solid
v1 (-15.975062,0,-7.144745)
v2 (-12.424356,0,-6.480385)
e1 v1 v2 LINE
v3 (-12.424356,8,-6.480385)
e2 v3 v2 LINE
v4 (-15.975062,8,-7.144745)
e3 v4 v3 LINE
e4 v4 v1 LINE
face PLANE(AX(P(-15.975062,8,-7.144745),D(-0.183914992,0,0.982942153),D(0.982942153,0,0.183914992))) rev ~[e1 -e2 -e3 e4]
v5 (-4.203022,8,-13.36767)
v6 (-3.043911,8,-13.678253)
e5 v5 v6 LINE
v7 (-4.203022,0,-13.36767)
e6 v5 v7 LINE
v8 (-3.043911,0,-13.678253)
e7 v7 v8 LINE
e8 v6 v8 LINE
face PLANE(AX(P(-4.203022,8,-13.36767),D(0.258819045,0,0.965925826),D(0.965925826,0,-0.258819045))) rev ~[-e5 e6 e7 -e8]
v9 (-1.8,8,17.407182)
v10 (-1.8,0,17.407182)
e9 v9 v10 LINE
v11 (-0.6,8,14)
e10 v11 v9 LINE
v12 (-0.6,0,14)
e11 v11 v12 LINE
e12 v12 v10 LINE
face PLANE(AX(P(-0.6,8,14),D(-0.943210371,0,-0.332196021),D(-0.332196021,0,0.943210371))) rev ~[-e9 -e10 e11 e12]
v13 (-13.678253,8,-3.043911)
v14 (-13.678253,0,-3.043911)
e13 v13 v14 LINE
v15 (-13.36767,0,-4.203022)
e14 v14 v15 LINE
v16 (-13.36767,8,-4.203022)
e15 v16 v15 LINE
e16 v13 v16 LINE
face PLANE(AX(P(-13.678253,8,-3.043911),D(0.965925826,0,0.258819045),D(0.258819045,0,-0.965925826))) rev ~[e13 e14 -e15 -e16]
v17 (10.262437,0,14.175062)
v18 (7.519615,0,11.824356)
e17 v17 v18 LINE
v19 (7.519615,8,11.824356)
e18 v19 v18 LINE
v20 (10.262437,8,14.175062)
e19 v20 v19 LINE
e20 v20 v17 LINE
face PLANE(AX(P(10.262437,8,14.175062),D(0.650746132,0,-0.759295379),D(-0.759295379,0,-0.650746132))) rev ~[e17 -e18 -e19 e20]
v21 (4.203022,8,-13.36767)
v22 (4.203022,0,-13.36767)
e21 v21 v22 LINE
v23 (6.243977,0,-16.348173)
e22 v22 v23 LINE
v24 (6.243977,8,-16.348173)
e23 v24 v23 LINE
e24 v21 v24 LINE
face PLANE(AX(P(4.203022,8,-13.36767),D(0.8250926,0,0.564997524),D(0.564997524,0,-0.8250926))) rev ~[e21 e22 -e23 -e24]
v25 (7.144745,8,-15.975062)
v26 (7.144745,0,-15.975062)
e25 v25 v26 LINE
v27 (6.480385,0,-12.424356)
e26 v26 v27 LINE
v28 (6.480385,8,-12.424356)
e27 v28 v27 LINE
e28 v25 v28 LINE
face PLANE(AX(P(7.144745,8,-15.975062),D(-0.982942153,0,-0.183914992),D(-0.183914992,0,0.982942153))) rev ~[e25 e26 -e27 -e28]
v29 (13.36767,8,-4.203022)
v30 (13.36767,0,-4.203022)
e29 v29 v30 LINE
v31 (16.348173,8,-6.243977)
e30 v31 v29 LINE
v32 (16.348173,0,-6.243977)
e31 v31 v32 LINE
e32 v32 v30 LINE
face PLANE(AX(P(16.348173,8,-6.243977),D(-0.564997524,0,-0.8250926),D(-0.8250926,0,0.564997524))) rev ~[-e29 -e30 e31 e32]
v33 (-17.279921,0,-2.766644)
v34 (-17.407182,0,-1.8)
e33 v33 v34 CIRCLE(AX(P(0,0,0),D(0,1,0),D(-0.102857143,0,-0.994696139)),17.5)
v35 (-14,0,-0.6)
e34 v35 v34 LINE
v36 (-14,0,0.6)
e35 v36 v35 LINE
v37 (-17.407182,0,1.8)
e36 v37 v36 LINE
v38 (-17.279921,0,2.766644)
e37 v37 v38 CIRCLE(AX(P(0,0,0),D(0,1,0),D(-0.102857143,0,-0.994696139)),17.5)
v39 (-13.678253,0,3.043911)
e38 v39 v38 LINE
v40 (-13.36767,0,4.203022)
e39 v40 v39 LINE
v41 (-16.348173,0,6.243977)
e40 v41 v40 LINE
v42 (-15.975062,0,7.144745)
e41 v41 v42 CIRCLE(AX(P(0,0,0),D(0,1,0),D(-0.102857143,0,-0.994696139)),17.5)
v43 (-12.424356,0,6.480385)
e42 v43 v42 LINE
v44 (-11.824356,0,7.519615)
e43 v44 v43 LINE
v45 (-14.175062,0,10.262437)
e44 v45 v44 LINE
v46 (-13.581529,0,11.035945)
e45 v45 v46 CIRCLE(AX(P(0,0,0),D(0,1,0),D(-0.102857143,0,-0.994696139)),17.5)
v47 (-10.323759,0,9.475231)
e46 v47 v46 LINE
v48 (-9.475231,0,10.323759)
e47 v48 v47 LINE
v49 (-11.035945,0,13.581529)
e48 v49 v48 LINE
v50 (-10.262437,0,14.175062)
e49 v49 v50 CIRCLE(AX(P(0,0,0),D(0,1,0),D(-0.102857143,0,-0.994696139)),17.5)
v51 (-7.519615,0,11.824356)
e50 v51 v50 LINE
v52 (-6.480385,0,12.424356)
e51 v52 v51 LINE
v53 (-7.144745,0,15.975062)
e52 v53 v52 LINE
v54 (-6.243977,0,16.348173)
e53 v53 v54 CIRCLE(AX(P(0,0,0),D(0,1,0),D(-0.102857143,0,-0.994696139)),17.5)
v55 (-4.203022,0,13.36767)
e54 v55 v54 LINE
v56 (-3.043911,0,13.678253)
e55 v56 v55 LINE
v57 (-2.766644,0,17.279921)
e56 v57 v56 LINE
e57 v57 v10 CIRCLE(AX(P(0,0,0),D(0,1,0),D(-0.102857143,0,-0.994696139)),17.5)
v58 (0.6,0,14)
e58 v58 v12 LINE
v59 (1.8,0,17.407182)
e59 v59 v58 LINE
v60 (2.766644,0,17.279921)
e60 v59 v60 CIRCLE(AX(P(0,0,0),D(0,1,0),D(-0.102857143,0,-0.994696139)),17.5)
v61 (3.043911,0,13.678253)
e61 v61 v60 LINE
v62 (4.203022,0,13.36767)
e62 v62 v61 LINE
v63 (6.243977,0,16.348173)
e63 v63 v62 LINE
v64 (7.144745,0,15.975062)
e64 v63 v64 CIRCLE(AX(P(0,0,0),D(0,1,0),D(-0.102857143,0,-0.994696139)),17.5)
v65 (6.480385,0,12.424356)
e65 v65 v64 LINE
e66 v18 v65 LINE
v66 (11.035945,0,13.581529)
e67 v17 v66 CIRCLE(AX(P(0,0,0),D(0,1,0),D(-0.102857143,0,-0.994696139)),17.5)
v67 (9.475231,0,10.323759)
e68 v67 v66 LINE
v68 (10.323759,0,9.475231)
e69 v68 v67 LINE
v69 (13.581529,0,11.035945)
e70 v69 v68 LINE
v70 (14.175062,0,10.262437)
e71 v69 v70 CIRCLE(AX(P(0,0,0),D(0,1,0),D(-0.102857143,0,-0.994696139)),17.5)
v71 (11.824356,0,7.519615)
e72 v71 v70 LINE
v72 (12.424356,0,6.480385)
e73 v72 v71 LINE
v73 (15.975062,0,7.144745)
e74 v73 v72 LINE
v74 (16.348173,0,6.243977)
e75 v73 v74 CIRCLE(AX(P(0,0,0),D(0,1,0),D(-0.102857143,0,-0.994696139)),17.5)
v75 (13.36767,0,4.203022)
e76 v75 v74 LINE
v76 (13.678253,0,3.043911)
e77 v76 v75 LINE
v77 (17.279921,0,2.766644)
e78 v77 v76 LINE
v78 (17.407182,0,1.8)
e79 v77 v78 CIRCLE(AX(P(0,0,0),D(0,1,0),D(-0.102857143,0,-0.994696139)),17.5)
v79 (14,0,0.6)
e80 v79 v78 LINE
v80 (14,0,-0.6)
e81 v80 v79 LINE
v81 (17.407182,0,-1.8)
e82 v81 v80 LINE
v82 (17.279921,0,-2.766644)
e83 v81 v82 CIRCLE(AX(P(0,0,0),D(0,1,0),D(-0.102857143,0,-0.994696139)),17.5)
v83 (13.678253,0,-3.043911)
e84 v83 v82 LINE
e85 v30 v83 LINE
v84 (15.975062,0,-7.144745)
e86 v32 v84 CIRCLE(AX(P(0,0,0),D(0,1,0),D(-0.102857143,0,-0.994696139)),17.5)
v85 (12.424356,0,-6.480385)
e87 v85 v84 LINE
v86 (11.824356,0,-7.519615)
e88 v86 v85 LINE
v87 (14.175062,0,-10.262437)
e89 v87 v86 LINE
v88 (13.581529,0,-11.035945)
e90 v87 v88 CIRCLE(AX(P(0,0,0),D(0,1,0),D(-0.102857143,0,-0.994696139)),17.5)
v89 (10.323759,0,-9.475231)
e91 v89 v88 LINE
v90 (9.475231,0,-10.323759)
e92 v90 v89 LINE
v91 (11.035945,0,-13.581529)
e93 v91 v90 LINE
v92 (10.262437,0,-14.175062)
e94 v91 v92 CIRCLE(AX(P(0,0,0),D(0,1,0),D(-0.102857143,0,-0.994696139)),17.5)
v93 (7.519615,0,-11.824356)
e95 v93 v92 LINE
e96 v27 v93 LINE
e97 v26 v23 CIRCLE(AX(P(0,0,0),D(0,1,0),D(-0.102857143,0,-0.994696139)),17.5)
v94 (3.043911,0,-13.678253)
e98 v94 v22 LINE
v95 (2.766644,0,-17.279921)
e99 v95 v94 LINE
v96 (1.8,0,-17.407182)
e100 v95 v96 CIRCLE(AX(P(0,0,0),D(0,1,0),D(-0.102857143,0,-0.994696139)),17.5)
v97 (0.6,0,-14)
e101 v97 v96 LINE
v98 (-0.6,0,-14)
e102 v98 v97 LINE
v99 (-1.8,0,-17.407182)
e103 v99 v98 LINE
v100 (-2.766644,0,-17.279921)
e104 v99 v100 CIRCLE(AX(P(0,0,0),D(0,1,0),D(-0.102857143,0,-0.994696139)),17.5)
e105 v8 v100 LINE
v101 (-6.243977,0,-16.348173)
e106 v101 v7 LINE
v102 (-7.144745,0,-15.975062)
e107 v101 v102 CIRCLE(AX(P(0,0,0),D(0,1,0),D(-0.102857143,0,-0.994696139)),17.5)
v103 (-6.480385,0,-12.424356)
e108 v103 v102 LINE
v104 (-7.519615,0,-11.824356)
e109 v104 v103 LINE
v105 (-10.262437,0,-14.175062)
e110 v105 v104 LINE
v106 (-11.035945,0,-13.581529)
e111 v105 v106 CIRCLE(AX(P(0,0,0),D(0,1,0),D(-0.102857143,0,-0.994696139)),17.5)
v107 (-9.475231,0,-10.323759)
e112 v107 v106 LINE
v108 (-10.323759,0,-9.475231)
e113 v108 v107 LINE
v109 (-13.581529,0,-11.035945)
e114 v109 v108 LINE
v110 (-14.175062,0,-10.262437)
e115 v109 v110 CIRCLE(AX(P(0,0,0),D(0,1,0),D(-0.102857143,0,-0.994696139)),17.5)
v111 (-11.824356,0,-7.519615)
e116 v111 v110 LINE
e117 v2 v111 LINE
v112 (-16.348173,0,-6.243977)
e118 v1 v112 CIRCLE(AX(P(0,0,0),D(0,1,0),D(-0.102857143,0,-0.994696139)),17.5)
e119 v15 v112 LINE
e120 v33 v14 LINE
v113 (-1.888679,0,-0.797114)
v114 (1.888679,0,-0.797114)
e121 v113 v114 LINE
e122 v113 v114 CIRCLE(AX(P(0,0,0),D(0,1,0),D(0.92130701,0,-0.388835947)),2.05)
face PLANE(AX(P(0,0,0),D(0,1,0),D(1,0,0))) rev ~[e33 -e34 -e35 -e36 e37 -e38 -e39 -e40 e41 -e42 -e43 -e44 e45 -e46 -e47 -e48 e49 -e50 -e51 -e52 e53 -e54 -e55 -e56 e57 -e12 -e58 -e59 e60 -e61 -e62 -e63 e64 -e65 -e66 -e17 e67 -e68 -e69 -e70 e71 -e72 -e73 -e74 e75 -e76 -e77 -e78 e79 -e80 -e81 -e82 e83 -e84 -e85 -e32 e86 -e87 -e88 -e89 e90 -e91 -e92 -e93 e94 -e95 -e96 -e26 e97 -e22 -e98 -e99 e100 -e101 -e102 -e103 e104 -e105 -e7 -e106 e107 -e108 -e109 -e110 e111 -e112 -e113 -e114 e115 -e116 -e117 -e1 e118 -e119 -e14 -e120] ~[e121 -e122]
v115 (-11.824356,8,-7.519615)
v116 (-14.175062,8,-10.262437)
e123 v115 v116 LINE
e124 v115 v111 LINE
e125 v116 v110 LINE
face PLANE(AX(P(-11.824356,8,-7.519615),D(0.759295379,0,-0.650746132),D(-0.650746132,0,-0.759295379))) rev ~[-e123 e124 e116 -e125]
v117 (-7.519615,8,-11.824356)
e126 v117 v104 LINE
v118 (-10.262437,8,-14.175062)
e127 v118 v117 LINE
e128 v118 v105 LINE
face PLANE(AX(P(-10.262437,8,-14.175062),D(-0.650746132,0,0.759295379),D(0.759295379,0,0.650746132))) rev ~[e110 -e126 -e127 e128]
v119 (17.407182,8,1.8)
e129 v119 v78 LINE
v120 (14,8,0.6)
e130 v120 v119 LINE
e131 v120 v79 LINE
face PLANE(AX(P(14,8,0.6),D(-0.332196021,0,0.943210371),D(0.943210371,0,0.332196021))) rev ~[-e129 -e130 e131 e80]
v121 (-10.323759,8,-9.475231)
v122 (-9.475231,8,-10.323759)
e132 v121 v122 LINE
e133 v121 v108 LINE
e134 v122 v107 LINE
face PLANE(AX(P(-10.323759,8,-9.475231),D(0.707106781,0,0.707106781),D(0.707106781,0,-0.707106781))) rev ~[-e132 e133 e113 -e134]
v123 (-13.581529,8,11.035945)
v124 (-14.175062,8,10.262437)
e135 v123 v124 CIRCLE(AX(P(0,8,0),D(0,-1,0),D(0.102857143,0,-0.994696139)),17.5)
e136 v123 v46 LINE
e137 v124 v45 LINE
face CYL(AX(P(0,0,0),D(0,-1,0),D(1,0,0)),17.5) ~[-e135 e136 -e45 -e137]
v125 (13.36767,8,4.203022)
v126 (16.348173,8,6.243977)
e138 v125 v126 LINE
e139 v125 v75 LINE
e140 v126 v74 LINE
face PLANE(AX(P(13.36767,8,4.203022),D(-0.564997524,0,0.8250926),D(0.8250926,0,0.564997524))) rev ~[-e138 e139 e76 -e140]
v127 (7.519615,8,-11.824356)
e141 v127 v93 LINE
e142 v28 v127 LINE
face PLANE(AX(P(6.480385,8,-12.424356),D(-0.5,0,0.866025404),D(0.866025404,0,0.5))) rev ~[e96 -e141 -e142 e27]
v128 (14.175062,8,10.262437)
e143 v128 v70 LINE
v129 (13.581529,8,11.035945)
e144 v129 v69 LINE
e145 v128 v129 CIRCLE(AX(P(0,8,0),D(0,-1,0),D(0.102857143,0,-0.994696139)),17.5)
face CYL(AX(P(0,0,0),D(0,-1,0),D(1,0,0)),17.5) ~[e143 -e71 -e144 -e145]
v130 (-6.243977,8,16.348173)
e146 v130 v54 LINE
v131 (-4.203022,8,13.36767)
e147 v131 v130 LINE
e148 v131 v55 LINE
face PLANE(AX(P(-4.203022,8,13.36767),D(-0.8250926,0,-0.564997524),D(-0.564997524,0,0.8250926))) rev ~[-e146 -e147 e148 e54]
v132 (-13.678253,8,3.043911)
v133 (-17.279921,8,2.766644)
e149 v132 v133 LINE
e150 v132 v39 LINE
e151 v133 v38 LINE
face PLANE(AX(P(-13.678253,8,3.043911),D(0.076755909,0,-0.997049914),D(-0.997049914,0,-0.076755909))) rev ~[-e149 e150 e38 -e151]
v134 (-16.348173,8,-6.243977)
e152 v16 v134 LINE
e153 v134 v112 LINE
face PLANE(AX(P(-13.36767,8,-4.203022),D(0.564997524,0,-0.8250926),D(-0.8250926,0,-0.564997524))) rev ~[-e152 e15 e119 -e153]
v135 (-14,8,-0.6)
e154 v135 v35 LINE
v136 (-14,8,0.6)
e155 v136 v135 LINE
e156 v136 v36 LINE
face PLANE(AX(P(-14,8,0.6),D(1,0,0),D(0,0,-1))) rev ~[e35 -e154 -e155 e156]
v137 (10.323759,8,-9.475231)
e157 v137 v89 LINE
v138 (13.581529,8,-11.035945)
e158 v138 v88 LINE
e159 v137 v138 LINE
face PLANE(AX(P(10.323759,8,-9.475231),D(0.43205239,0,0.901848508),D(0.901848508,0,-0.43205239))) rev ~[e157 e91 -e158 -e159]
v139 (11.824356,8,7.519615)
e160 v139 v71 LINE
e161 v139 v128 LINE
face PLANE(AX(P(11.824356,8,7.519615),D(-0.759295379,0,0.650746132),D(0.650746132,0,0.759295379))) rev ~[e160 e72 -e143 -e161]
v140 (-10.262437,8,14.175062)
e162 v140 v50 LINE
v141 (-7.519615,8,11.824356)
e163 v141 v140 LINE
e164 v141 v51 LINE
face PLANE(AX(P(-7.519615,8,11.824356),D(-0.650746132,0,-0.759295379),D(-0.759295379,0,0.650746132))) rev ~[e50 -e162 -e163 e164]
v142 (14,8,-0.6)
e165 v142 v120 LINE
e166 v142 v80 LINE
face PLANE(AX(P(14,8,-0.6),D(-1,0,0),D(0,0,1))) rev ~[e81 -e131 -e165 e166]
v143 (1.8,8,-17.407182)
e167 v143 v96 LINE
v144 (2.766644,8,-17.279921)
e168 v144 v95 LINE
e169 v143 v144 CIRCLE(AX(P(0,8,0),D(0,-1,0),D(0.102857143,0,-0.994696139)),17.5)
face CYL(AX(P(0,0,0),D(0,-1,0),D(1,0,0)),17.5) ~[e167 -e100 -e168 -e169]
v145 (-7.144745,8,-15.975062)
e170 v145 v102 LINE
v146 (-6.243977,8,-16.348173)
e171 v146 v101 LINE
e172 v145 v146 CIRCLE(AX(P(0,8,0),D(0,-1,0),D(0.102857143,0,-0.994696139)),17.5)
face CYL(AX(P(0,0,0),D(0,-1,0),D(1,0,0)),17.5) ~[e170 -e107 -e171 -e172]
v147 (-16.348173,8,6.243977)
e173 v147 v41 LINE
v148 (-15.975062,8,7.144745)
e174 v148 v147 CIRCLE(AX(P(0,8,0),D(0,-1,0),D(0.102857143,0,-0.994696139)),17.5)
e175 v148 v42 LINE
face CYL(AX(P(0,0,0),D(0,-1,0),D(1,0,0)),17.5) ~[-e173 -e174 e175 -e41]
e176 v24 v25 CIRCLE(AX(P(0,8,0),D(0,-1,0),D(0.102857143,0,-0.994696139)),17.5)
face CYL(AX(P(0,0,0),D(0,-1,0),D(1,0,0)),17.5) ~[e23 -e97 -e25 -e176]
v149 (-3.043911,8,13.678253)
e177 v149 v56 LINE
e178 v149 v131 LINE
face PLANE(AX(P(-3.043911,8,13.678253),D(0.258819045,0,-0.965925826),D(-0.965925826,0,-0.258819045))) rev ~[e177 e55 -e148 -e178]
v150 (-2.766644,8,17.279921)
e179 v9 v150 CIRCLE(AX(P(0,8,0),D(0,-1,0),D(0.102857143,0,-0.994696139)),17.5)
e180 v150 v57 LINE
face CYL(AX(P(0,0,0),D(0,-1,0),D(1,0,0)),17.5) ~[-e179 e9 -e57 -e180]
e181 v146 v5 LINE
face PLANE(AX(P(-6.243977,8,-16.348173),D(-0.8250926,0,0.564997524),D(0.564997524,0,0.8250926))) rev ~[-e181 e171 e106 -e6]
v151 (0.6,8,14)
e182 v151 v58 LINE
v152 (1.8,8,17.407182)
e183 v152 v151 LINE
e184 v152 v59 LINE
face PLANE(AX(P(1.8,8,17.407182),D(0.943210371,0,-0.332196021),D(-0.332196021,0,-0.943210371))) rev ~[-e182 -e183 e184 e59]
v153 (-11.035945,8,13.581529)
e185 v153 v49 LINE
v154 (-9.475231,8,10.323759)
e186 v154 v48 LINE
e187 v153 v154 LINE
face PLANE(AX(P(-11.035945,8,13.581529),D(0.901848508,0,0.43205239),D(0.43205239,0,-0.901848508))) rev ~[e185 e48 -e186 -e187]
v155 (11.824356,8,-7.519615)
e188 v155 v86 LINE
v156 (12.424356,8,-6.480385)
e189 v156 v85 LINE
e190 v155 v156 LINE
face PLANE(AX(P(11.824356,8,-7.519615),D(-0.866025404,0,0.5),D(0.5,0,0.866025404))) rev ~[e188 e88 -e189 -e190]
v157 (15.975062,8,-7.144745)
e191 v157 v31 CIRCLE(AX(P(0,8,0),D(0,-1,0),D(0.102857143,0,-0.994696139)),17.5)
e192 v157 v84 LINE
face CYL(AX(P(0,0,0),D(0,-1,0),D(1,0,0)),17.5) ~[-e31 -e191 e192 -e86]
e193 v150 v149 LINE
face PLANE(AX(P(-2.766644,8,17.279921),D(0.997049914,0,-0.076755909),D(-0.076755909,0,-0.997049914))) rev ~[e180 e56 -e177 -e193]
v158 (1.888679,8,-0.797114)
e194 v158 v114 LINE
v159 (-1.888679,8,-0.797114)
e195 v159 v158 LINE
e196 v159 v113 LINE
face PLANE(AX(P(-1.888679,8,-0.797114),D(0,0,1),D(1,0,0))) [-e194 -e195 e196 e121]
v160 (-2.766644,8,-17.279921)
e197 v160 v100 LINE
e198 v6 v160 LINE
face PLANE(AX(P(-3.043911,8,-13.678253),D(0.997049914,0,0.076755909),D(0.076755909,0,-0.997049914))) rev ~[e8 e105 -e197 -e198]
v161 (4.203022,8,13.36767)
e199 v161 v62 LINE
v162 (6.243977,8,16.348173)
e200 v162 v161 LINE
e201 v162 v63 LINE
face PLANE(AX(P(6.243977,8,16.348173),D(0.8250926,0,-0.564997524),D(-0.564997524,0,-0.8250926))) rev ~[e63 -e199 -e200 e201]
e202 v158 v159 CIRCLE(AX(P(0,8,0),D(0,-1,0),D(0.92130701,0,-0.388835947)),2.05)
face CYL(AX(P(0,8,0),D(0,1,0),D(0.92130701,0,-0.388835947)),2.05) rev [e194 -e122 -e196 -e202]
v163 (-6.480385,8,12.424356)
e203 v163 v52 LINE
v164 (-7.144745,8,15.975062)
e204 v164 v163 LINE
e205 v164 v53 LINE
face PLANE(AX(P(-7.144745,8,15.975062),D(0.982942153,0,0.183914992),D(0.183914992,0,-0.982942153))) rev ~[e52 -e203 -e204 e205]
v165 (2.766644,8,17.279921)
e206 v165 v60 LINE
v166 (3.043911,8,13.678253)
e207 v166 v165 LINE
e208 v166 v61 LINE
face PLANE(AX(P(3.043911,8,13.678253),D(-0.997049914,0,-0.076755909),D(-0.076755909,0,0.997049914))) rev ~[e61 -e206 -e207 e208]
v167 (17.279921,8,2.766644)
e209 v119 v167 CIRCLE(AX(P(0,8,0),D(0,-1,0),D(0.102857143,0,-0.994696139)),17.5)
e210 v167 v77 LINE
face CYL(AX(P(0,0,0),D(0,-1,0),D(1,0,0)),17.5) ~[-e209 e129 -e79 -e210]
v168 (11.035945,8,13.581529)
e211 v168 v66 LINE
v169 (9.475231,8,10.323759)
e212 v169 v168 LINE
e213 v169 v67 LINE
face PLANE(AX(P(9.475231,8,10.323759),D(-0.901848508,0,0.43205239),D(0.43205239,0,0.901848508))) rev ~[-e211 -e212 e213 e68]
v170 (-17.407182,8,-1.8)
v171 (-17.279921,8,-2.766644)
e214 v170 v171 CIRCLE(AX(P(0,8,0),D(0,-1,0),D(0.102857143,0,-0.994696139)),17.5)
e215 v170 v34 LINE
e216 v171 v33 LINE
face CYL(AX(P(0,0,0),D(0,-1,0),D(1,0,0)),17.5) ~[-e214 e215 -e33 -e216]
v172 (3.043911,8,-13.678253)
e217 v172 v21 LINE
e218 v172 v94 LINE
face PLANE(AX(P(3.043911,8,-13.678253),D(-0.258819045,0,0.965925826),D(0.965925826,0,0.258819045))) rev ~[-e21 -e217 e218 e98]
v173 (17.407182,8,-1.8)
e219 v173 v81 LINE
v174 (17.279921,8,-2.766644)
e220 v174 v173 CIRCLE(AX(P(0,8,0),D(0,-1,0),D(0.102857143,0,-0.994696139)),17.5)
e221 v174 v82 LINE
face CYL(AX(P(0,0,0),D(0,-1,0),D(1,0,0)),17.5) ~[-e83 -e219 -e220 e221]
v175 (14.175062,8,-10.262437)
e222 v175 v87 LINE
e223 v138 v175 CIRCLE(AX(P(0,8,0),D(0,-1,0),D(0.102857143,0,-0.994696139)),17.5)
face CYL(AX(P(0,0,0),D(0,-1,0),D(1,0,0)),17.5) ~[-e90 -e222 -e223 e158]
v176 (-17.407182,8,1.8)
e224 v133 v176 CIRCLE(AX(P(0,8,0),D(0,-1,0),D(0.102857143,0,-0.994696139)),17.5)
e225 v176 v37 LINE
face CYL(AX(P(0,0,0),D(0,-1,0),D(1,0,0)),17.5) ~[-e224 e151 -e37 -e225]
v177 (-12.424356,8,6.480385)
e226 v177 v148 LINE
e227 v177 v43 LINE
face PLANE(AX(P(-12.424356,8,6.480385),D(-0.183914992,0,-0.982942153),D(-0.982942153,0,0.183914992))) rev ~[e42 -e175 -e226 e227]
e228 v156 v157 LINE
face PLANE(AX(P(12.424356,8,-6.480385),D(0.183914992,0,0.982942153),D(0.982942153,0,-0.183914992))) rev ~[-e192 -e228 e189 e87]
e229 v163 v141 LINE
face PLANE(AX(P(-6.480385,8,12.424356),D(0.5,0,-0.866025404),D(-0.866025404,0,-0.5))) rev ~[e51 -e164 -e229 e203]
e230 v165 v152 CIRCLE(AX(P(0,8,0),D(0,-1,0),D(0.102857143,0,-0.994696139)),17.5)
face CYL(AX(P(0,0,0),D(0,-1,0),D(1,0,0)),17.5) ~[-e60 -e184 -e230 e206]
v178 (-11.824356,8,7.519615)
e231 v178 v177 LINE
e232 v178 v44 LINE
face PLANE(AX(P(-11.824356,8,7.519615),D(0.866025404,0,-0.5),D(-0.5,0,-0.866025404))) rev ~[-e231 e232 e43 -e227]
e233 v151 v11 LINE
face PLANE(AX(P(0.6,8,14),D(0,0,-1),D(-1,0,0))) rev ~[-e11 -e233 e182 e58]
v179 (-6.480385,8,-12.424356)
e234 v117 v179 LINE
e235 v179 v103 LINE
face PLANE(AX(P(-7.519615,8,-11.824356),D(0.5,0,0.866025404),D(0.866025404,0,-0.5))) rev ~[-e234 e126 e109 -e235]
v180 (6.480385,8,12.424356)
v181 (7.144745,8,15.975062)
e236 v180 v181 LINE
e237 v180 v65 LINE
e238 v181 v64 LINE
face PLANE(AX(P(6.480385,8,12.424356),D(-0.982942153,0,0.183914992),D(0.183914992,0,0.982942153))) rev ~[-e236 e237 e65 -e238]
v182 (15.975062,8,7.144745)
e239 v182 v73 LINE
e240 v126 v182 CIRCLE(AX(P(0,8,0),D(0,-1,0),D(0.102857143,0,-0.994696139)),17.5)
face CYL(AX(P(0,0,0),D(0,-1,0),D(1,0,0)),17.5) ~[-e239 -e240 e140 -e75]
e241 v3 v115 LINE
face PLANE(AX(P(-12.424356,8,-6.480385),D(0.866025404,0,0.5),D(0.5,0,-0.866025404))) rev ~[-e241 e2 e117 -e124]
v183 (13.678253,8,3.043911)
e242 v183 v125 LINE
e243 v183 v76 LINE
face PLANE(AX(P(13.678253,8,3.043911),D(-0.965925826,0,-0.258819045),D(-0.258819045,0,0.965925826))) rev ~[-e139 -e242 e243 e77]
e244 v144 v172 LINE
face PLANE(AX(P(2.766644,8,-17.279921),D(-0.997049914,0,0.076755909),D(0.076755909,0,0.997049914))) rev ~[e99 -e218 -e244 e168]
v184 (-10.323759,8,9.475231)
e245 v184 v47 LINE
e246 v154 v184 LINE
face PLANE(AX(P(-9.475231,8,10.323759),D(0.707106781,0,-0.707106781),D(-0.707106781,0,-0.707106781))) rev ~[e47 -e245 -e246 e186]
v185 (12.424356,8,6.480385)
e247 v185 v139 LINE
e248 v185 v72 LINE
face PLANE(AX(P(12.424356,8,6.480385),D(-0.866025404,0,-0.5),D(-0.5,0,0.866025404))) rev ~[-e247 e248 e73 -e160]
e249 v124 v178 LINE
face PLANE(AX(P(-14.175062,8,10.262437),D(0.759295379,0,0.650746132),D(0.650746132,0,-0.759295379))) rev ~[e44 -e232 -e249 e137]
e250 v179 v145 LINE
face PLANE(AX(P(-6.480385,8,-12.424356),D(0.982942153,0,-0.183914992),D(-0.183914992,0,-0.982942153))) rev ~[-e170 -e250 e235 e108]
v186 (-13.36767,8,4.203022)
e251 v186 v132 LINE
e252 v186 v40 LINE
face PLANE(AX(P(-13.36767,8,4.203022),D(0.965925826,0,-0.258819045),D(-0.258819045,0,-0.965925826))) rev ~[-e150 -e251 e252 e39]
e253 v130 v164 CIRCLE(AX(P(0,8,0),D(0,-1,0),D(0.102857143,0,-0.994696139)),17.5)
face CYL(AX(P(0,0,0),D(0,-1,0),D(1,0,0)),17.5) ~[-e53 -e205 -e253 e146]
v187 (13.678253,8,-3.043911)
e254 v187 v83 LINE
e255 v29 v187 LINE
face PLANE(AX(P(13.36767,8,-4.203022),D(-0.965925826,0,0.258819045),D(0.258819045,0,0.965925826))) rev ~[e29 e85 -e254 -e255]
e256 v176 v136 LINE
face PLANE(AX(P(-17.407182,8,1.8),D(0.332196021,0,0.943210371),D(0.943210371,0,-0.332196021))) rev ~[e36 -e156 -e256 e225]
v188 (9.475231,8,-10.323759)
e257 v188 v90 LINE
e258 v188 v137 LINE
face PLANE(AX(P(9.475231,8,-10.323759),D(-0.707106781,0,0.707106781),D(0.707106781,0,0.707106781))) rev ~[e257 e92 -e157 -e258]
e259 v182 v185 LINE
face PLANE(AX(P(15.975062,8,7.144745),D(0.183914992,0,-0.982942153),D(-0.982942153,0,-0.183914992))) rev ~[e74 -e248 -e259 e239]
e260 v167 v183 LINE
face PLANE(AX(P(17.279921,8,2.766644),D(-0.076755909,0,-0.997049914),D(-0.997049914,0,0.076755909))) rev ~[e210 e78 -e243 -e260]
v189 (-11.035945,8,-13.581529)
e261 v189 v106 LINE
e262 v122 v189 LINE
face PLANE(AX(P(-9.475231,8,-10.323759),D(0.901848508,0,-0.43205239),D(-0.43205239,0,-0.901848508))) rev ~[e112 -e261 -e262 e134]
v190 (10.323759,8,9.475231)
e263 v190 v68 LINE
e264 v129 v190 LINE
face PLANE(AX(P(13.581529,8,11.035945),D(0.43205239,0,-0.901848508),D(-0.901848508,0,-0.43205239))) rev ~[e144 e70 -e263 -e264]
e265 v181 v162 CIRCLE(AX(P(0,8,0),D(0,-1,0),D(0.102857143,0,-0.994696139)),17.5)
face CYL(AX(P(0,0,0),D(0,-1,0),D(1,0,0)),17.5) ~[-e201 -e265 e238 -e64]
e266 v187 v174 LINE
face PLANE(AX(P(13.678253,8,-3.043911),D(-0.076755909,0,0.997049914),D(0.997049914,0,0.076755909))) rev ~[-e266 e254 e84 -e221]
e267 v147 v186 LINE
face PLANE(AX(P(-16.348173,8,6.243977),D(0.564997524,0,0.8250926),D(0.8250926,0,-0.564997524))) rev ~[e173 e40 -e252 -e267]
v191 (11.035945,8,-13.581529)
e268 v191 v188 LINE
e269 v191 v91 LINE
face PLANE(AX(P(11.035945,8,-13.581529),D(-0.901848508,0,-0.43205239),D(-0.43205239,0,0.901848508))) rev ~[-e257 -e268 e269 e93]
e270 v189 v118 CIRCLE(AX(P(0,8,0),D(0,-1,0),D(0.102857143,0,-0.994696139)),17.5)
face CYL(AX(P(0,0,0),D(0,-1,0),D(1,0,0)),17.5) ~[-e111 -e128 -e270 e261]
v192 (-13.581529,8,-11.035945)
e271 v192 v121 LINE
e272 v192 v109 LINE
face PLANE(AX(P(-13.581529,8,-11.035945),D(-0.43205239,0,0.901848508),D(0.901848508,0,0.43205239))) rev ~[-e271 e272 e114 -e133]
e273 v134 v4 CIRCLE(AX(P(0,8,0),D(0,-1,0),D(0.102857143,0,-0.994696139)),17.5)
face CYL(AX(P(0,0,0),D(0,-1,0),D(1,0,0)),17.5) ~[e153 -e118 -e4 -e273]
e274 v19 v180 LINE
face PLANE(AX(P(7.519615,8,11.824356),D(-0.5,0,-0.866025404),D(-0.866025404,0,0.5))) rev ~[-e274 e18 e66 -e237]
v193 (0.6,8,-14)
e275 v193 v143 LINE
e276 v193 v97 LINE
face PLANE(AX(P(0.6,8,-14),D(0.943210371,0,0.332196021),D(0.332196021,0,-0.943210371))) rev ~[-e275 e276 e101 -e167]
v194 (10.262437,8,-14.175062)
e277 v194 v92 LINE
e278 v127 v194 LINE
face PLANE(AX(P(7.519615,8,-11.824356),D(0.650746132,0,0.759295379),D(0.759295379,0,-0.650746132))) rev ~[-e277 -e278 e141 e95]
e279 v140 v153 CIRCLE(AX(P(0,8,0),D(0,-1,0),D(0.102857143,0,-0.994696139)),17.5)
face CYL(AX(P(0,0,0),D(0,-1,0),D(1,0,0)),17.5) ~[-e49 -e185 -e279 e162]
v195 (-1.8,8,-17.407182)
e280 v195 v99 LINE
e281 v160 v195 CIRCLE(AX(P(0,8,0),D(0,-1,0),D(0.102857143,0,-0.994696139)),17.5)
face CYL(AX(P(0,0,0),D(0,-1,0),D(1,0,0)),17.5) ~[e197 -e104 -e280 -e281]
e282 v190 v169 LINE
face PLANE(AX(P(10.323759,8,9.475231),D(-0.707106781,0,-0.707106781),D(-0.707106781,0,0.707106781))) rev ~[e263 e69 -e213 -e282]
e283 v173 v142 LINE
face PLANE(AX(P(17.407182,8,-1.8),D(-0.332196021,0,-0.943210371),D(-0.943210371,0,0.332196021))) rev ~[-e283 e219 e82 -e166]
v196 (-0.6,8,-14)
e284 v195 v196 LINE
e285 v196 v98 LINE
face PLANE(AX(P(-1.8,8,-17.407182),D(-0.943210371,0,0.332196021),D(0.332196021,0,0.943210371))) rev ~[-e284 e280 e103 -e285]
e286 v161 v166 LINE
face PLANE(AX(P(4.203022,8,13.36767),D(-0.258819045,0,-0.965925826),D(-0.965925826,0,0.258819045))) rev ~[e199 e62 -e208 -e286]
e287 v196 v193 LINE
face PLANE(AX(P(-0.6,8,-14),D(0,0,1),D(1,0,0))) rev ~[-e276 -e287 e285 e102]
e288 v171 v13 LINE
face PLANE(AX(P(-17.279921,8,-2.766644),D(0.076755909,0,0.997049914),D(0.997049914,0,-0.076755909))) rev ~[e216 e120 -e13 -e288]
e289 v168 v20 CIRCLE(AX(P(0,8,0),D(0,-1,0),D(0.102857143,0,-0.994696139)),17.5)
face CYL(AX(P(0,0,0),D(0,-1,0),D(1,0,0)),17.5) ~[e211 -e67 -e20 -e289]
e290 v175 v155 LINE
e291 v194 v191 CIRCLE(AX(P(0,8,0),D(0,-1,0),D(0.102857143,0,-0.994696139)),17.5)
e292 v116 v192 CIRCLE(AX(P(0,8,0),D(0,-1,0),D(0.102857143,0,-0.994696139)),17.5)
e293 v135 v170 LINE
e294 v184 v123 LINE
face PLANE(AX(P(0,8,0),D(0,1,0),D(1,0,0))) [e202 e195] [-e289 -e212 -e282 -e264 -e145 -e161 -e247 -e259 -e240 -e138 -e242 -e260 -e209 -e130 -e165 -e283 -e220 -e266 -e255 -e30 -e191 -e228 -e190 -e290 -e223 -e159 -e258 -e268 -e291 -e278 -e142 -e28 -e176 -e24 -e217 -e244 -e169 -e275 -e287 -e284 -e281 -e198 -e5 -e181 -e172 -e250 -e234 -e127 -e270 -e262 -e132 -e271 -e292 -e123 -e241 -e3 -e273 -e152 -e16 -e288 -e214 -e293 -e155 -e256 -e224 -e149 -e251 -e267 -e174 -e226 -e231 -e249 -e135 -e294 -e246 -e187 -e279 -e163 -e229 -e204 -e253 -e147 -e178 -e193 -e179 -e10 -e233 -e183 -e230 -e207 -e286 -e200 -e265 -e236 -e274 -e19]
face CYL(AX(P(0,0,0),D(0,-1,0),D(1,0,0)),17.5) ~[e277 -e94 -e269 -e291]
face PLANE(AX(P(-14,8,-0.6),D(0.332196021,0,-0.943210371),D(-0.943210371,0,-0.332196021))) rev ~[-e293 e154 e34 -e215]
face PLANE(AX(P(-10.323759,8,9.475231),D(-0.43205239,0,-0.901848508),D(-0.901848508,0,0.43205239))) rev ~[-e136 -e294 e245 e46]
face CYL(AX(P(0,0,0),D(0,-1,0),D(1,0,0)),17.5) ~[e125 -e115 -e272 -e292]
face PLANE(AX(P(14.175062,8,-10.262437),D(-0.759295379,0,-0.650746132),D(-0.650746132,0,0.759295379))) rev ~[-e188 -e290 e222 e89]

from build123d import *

# Parameters (mm, degrees)
SKETCH1_R           = 17.5
BOSS_EXTRUDE1_DEPTH = 8
CUT_EXTRUDE1_DEPTH  = 9
CUT_EXTRUDE2_DEPTH  = 10
CIRPATTERN1_COUNT   = 24


with BuildPart() as part:
    # Sketch1 → Boss-Extrude1 (new body)
    with BuildSketch(Plane(origin=(0, 0, 0), x_dir=(1, 0, 0), z_dir=(0, 1, 0))):
        Circle(SKETCH1_R)
    extrude(amount=BOSS_EXTRUDE1_DEPTH)

    # Sketch2 → Cut-Extrude1 (cut, through all)
    with BuildSketch(Plane(origin=(0, 8, 0), x_dir=(1, 0, 0), z_dir=(0, 1, 0))):
        with BuildLine():
            Line((-1.88867937, 0.797113692), (1.88867937, 0.797113692))
            ThreePointArc((1.88867937, 0.797113692), (0, -2.05), (-1.88867937, 0.797113692))
        make_face()
    extrude(amount=-CUT_EXTRUDE1_DEPTH, mode=Mode.SUBTRACT)

    # Sketch3 → Cut-Extrude2 (cut)
    with BuildSketch(Plane(origin=(0, 8, 0), x_dir=(1, 0, 0), z_dir=(0, 1, 0))):
        Polygon((0, 14), (0.6, 14), (1.8, 17.407182426), (1.8, 19.314701451), (-1.8, 19.314701451), (-1.8, 17.407182426), (-0.6, 14), align=None)
    cut_extrude2 = extrude(amount=-CUT_EXTRUDE2_DEPTH, mode=Mode.SUBTRACT)

    # CirPattern1: Cut-Extrude2 ×24 about axis
    cirpattern1_axis = Axis((0, 0, 0), (0, 1, 0))
    for i in range(1, CIRPATTERN1_COUNT):
        add(cut_extrude2.rotate(cirpattern1_axis, i * 360 / CIRPATTERN1_COUNT), mode=Mode.SUBTRACT)


solid = part.part
